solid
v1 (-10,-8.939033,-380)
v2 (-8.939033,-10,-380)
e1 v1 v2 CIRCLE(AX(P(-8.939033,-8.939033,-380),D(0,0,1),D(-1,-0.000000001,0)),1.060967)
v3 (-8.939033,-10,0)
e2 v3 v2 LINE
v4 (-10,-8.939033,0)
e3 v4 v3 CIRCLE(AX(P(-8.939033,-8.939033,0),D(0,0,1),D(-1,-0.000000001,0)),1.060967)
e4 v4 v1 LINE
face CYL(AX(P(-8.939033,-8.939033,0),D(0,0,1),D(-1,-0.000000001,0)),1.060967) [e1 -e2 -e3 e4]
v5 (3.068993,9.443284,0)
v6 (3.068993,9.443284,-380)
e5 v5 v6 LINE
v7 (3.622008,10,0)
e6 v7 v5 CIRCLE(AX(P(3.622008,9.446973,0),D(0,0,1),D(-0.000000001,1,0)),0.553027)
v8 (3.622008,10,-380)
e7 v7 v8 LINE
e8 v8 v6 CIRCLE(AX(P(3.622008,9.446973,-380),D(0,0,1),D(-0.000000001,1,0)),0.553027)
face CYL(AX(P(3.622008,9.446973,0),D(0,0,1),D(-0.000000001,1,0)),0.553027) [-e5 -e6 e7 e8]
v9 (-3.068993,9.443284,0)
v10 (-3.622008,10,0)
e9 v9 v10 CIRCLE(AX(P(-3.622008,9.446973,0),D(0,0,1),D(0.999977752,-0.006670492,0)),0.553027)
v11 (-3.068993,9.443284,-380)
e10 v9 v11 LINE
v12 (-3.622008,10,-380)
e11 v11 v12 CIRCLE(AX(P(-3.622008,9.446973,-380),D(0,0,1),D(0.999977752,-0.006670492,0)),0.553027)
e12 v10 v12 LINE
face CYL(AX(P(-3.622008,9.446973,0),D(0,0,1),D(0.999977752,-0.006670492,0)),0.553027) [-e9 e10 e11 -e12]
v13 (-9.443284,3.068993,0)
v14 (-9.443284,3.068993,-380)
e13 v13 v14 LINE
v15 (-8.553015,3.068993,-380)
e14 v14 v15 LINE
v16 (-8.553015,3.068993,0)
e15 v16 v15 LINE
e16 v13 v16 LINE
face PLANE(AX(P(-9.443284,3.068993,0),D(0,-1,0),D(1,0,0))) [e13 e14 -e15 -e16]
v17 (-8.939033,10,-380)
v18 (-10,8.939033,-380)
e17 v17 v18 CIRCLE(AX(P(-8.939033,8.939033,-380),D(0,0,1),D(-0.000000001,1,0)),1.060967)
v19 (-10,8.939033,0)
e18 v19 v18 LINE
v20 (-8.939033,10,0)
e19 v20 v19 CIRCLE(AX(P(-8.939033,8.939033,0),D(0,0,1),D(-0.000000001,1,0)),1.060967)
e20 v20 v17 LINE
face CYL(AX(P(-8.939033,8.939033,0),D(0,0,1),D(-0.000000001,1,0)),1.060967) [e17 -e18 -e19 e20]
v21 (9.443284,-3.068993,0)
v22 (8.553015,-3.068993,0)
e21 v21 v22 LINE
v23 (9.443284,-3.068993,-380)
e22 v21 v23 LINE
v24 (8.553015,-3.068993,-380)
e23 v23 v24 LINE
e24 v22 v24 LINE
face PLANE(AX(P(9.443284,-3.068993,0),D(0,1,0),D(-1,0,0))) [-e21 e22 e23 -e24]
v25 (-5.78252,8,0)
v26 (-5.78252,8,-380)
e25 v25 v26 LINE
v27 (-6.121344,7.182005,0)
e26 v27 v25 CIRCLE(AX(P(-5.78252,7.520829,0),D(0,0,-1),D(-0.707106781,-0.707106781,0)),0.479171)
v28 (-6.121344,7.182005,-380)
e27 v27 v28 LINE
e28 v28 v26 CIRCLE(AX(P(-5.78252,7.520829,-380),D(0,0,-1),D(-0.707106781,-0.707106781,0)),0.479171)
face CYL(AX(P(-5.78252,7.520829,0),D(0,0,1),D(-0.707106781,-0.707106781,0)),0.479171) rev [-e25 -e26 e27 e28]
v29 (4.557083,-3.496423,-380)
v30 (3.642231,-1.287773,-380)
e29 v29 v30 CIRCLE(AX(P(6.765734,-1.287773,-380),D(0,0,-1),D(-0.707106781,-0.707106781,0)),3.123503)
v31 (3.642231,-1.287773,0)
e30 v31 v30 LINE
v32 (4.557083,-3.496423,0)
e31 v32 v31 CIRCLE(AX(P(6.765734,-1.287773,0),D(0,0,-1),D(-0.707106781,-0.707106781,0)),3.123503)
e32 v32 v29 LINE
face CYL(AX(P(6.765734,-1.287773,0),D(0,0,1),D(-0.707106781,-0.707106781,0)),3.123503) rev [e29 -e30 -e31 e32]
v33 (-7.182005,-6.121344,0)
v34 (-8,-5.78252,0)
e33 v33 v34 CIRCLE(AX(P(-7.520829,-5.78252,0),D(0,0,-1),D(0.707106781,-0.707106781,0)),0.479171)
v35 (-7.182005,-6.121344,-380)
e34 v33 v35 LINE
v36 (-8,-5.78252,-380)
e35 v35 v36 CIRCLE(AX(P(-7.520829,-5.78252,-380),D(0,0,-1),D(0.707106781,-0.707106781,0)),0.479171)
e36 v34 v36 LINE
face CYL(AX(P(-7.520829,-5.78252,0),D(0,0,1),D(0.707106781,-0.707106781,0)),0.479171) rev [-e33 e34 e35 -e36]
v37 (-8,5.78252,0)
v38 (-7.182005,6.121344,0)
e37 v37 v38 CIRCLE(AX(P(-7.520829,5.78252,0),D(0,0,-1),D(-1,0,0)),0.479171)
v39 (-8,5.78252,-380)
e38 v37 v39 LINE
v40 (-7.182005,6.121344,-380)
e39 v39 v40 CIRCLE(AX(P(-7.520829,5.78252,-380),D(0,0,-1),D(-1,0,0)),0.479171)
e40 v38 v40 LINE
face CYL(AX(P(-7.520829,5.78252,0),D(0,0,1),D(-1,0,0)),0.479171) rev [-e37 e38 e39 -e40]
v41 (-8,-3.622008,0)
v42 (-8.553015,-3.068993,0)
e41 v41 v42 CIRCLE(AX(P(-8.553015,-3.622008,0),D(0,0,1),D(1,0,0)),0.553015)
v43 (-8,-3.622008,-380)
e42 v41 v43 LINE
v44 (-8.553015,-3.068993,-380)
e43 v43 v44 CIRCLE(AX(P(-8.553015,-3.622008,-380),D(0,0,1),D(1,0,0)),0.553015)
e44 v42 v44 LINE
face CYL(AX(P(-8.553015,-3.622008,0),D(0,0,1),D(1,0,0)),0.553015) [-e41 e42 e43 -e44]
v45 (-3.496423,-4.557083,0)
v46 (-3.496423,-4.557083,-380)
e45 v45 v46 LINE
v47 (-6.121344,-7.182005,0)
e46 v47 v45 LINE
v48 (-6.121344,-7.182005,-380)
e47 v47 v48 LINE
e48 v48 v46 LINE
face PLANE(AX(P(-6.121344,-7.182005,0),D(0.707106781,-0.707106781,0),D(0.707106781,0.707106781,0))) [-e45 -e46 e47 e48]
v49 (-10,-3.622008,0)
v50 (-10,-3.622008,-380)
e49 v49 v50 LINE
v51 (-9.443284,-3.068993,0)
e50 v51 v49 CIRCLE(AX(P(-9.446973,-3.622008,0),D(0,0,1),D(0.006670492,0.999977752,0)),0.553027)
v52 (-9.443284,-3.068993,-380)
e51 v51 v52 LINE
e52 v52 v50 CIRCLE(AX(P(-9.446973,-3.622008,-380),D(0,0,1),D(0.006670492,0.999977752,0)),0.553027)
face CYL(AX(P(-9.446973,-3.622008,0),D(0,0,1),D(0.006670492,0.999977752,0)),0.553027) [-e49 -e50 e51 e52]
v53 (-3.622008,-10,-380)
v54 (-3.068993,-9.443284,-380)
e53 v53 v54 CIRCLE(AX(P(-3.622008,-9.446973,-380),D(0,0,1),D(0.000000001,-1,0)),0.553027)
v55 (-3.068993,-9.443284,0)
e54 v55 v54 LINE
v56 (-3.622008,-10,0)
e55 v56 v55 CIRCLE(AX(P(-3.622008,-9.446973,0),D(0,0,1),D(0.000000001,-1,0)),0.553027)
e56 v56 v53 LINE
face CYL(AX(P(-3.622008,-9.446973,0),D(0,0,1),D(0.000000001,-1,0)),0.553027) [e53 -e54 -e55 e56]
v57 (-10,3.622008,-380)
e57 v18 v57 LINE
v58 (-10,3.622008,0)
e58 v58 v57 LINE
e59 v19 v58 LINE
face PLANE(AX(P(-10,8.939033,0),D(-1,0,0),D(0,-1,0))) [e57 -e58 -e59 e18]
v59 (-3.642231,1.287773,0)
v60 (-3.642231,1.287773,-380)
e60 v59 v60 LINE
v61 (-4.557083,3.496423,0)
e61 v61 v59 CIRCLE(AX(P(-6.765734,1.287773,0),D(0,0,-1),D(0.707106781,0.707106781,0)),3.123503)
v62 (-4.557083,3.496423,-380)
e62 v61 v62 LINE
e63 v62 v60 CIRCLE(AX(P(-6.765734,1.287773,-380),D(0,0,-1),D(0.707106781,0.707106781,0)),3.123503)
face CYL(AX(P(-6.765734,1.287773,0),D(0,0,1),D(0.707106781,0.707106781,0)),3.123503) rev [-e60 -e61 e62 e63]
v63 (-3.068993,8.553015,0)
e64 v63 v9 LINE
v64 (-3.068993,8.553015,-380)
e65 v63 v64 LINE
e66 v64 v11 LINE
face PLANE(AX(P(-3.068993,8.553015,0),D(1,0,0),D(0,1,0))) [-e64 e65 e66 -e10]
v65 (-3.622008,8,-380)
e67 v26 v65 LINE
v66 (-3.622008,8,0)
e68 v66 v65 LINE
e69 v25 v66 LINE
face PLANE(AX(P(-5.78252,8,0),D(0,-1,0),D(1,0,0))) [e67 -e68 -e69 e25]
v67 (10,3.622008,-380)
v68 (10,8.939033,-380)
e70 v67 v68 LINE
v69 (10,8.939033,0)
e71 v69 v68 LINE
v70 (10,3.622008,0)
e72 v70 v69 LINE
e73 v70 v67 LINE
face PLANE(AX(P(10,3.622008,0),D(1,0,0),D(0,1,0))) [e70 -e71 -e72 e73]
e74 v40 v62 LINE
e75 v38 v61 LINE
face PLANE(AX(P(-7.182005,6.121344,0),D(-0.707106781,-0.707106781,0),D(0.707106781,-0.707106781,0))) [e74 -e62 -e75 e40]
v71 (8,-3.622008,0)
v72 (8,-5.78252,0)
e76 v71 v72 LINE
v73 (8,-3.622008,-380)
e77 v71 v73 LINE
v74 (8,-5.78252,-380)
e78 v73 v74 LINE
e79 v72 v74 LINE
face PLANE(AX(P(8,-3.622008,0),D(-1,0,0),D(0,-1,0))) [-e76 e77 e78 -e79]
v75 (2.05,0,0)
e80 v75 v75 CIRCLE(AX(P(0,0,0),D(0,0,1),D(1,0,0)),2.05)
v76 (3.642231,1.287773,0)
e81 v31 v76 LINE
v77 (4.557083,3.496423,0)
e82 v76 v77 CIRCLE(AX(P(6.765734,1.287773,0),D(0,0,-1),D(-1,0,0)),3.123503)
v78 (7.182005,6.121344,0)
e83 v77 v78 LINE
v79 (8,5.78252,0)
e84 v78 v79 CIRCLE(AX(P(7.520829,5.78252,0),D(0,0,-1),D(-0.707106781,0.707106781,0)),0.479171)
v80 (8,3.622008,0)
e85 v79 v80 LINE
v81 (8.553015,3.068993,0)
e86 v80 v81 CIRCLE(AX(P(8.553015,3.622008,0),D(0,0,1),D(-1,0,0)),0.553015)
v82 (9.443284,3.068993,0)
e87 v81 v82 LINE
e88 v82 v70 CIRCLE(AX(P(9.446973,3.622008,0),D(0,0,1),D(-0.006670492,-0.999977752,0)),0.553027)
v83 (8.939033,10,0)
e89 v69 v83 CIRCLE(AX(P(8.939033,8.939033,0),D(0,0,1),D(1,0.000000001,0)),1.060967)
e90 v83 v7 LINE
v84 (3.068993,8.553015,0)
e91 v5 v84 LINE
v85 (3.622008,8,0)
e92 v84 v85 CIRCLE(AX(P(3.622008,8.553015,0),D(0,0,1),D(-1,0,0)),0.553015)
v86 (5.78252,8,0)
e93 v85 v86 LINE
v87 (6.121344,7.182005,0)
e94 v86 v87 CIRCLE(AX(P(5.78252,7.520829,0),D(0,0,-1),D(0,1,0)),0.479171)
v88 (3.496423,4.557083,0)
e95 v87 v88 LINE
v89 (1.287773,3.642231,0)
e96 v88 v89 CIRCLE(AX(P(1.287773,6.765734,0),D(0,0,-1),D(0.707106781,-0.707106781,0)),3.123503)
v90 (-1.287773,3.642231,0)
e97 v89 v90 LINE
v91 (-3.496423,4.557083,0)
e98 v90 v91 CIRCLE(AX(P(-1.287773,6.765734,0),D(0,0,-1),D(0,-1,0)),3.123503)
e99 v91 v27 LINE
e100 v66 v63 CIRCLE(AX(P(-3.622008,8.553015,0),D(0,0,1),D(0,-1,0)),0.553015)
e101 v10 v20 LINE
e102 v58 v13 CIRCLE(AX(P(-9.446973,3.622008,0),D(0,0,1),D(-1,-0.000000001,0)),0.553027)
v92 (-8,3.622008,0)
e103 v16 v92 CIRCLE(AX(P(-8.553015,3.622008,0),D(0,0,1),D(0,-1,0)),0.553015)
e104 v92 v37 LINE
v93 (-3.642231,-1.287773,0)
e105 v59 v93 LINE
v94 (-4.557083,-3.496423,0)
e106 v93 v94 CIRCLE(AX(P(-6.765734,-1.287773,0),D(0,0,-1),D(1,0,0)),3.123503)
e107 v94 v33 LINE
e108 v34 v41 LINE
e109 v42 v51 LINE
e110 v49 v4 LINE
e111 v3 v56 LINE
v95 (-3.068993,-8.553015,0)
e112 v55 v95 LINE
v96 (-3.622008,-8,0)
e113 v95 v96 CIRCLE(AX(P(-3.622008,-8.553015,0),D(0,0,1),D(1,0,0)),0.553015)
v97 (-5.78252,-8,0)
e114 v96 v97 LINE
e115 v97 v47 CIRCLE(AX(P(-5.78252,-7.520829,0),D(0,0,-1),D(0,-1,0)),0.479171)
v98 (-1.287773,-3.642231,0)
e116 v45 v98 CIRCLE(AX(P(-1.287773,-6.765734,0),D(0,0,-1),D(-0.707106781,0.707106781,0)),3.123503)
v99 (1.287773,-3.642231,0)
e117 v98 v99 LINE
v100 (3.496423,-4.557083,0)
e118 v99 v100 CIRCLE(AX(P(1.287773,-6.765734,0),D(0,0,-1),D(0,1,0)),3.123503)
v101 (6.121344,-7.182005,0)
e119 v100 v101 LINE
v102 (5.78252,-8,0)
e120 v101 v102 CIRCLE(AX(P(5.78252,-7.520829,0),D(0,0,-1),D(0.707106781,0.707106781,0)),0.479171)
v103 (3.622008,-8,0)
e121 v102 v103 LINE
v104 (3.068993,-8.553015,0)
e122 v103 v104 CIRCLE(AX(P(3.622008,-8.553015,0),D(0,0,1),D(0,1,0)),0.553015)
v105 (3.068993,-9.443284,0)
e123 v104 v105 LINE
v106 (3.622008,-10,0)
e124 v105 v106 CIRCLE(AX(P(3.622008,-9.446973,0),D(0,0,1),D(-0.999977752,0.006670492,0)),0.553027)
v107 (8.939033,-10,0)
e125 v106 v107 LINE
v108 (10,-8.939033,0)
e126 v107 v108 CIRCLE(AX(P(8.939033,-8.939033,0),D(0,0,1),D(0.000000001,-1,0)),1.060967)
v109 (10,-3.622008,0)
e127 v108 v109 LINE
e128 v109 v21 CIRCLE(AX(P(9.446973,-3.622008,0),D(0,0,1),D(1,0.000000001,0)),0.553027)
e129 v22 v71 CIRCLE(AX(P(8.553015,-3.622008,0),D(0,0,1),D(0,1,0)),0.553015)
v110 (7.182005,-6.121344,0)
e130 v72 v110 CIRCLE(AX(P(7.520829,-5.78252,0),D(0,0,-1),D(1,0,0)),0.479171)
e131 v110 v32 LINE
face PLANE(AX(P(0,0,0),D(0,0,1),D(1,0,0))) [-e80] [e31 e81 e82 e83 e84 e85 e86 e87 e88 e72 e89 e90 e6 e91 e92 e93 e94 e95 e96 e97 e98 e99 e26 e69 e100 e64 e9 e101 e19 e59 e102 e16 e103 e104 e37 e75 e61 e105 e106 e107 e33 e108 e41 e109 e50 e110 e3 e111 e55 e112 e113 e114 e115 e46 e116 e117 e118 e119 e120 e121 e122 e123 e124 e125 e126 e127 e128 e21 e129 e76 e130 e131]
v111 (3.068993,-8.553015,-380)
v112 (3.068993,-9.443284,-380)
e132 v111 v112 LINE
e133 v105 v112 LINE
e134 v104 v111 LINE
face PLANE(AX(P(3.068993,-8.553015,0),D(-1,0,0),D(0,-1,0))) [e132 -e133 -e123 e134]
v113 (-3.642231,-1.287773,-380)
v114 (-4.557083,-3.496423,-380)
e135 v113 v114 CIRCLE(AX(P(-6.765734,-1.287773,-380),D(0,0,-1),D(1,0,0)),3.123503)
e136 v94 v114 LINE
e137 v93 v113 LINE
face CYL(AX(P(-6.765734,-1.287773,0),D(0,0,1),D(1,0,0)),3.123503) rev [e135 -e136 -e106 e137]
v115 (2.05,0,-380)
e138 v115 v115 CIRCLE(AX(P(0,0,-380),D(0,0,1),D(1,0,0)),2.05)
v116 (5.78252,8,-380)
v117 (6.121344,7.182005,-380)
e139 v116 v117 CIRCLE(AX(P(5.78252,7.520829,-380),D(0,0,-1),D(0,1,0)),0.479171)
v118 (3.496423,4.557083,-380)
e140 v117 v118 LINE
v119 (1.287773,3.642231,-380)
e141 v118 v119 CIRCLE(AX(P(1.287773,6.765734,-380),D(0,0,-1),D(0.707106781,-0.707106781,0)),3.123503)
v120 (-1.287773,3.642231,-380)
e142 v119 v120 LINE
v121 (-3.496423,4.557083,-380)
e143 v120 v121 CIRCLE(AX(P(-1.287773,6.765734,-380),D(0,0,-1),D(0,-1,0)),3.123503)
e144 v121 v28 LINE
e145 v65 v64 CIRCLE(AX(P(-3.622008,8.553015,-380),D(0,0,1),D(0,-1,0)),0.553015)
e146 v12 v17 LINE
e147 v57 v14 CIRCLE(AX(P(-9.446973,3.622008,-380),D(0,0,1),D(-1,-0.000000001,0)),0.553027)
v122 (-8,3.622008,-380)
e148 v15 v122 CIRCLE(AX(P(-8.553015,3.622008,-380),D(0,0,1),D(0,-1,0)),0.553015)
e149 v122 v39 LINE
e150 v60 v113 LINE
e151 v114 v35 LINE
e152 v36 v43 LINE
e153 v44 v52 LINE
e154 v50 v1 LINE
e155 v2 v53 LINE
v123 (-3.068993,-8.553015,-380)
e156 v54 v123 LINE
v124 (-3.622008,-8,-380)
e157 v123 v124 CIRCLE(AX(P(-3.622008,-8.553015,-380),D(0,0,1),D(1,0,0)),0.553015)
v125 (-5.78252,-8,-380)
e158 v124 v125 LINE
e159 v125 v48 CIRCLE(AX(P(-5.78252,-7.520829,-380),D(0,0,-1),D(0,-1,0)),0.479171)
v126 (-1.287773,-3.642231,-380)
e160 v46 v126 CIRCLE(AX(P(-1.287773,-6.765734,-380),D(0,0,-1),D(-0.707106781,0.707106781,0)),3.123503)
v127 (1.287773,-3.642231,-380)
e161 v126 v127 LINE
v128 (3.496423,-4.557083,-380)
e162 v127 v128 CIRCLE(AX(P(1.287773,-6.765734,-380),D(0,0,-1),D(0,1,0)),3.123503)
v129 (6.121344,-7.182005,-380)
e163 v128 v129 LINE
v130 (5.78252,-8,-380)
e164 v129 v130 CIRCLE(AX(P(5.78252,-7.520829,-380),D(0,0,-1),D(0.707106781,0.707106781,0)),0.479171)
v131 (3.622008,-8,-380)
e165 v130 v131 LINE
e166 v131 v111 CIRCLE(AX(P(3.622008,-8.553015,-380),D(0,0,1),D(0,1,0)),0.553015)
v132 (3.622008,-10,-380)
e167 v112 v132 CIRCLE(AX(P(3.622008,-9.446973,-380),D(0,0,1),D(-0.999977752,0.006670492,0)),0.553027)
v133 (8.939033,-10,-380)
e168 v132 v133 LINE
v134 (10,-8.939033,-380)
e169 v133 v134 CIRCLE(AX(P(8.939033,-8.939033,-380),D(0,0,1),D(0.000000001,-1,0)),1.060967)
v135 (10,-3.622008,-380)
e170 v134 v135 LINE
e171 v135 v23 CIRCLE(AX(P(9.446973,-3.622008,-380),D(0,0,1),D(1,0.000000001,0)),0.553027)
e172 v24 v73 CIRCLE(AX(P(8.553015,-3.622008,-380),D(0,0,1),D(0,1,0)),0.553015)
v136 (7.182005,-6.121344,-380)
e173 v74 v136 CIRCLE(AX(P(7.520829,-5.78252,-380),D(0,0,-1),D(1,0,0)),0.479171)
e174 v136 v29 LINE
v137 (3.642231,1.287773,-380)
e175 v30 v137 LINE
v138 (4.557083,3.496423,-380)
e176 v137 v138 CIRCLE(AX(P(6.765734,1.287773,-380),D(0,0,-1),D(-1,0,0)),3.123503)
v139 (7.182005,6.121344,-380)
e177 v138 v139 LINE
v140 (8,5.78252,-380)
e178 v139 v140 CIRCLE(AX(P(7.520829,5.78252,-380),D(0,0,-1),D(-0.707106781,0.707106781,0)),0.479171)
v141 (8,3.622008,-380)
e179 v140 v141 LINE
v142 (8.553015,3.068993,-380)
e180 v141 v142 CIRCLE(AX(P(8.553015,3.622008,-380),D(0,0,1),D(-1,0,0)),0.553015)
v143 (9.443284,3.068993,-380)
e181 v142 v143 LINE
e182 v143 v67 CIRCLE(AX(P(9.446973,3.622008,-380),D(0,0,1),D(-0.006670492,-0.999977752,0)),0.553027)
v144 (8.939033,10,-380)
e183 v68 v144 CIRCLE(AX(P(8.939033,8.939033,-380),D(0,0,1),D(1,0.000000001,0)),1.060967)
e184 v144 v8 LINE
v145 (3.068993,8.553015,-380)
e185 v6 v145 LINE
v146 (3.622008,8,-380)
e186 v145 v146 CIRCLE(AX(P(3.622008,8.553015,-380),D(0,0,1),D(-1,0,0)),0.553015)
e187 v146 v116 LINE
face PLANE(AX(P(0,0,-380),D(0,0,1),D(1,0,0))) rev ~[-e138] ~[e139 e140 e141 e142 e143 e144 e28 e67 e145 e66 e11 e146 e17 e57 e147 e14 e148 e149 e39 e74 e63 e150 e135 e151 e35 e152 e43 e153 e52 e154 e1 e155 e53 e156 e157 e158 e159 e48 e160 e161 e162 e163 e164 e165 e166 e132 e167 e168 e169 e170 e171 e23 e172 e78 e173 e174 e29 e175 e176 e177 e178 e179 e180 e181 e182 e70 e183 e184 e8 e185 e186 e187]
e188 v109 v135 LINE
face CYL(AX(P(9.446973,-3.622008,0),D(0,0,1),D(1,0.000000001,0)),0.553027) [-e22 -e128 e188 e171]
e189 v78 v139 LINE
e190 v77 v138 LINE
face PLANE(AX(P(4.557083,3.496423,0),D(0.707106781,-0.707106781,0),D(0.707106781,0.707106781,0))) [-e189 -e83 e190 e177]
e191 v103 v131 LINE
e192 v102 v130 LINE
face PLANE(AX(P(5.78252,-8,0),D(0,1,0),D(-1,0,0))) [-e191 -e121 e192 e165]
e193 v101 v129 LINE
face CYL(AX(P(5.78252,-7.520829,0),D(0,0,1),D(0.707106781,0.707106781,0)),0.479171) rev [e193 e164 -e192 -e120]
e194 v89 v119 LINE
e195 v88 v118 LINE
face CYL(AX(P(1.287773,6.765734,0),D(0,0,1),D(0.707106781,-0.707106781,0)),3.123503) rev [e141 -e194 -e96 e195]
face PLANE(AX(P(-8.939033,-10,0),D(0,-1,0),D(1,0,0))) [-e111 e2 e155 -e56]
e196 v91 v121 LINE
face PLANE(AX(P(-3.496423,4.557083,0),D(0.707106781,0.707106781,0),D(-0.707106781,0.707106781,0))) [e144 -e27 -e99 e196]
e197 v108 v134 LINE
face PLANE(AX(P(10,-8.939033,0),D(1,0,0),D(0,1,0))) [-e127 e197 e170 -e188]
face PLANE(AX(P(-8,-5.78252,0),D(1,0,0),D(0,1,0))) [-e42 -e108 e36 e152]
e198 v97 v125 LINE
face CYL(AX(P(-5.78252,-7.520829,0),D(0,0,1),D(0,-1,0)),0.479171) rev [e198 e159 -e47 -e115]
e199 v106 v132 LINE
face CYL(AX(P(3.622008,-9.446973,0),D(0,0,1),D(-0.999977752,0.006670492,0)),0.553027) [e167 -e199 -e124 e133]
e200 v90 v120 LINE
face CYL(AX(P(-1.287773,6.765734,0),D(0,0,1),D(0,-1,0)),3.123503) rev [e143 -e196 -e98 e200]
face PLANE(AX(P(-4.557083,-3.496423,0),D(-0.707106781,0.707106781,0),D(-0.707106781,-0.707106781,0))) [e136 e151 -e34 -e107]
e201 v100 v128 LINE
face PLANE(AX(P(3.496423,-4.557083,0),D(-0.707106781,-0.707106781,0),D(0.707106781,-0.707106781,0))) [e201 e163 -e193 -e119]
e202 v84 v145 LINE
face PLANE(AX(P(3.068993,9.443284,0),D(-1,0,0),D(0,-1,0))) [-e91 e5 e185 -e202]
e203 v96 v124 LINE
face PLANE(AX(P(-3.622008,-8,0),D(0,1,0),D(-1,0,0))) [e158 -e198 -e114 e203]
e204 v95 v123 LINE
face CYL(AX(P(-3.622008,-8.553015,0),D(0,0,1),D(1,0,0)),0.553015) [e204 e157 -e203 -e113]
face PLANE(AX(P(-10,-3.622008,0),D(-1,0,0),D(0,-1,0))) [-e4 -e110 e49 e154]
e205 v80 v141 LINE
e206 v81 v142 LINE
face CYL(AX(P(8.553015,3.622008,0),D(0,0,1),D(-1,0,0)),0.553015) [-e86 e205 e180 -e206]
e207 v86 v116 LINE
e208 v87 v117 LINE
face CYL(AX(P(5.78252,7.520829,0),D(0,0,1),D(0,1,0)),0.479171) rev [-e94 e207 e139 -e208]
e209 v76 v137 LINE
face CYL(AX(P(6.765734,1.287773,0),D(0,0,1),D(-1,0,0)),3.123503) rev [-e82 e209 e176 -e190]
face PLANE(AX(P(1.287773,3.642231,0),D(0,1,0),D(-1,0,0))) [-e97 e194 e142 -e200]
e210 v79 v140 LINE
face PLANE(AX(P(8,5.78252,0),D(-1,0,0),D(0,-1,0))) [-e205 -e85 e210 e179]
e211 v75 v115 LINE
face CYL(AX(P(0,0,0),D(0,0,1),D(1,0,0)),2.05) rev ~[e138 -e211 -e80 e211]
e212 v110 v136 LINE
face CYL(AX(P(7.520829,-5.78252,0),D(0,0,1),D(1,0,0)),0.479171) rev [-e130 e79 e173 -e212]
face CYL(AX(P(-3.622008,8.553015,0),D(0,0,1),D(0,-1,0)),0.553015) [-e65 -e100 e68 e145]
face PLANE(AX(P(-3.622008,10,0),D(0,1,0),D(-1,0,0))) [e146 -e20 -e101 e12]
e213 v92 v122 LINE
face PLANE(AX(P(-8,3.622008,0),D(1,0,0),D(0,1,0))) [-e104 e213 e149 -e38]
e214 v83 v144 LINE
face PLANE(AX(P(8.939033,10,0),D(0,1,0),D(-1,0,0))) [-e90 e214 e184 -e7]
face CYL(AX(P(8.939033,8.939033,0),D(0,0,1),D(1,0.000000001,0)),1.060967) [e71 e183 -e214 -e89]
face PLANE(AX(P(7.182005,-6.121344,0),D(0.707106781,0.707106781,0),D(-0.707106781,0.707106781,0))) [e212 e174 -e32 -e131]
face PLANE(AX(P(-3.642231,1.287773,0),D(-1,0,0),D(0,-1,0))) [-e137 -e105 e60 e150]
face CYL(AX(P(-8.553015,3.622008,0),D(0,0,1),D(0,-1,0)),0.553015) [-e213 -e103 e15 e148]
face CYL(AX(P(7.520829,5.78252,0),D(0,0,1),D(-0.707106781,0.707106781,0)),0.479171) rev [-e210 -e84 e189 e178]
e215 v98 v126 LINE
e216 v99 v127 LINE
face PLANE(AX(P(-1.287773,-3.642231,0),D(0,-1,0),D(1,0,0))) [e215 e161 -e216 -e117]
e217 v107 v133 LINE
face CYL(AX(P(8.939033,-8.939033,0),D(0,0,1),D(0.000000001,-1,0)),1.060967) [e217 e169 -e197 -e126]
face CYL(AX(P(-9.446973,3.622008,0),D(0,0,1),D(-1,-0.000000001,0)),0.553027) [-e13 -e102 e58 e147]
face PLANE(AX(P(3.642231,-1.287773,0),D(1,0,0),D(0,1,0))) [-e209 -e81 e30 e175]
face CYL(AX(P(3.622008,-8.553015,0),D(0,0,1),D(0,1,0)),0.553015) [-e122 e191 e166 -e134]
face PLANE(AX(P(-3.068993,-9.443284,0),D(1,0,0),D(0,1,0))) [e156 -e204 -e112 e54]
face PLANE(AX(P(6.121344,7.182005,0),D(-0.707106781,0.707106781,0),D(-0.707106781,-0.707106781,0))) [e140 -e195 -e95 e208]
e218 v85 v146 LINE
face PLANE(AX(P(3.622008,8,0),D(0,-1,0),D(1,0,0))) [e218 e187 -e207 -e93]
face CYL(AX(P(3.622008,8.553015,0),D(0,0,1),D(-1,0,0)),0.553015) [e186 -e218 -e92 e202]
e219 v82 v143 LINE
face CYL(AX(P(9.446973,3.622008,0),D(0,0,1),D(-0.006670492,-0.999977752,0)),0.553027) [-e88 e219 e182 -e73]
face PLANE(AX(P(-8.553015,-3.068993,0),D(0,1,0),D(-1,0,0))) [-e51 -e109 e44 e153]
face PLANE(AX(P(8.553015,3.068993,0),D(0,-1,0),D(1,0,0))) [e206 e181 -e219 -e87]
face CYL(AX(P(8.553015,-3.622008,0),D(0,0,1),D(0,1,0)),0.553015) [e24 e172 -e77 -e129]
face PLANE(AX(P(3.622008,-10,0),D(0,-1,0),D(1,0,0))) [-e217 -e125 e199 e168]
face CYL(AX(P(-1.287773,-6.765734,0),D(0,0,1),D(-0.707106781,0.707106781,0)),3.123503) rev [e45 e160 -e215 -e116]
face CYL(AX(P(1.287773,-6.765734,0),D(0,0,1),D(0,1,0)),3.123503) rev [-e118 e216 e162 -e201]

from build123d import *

# Parameters (mm, degrees)
SKETCH2_R           = 2.05
BOSS_EXTRUDE1_DEPTH = 380


with BuildPart() as part:
    # Sketch2 → Boss-Extrude1 (new body)
    with BuildSketch(Plane.XY):
        with BuildLine():
            Line((-3.642230561, 1.287773026), (-3.642230561, -1.287773026))
            ThreePointArc((-3.642230561, -1.287773026), (-3.87999308, -2.483085929), (-4.55708345, -3.496423279))
            Line((-4.55708345, -3.496423279), (-7.182004606, -6.121344434))
            ThreePointArc((-7.182004606, -6.121344434), (-7.704200045, -6.225215565), (-8, -5.782519648))
            Line((-8, -5.782519648), (-8, -3.622007668))
            ThreePointArc((-8, -3.622007668), (-8.161974206, -3.230967343), (-8.553014531, -3.068993137))
            Line((-8.553014531, -3.068993137), (-9.443284204, -3.068993137))
            ThreePointArc((-9.443284204, -3.068993137), (-9.836715763, -3.229656566), (-10, -3.622007668))
            Line((-10, -3.622007668), (-10, -8.939033256))
            ThreePointArc((-10, -8.939033256), (-9.689250035, -9.689250035), (-8.939033256, -10))
            Line((-8.939033256, -10), (-3.622007668, -10))
            ThreePointArc((-3.622007668, -10), (-3.229656566, -9.836715763), (-3.068993137, -9.443284204))
            Line((-3.068993137, -9.443284204), (-3.068993137, -8.553014531))
            ThreePointArc((-3.068993137, -8.553014531), (-3.230967343, -8.161974206), (-3.622007668, -8))
            Line((-3.622007668, -8), (-5.782519648, -8))
            ThreePointArc((-5.782519648, -8), (-6.225215565, -7.704200045), (-6.121344434, -7.182004606))
            Line((-6.121344434, -7.182004606), (-3.496423279, -4.55708345))
            ThreePointArc((-3.496423279, -4.55708345), (-2.483085929, -3.87999308), (-1.287773026, -3.642230561))
            Line((-1.287773026, -3.642230561), (1.287773026, -3.642230561))
            ThreePointArc((1.287773026, -3.642230561), (2.483085929, -3.87999308), (3.496423279, -4.55708345))
            Line((3.496423279, -4.55708345), (6.121344434, -7.182004606))
            ThreePointArc((6.121344434, -7.182004606), (6.225215565, -7.704200045), (5.782519648, -8))
            Line((5.782519648, -8), (3.622007668, -8))
            ThreePointArc((3.622007668, -8), (3.230967343, -8.161974206), (3.068993137, -8.553014531))
            Line((3.068993137, -8.553014531), (3.068993137, -9.443284204))
            ThreePointArc((3.068993137, -9.443284204), (3.229656566, -9.836715763), (3.622007668, -10))
            Line((3.622007668, -10), (8.939033256, -10))
            ThreePointArc((8.939033256, -10), (9.689250035, -9.689250035), (10, -8.939033256))
            Line((10, -8.939033256), (10, -3.622007668))
            ThreePointArc((10, -3.622007668), (9.836715763, -3.229656566), (9.443284204, -3.068993137))
            Line((9.443284204, -3.068993137), (8.553014531, -3.068993137))
            ThreePointArc((8.553014531, -3.068993137), (8.161974206, -3.230967343), (8, -3.622007668))
            Line((8, -3.622007668), (8, -5.782519648))
            ThreePointArc((8, -5.782519648), (7.704200045, -6.225215565), (7.182004606, -6.121344434))
            Line((7.182004606, -6.121344434), (4.55708345, -3.496423279))
            ThreePointArc((4.55708345, -3.496423279), (3.87999308, -2.483085929), (3.642230561, -1.287773026))
            Line((3.642230561, -1.287773026), (3.642230561, 1.287773026))
            ThreePointArc((3.642230561, 1.287773026), (3.87999308, 2.483085929), (4.55708345, 3.496423279))
            Line((4.55708345, 3.496423279), (7.182004606, 6.121344434))
            ThreePointArc((7.182004606, 6.121344434), (7.704200045, 6.225215565), (8, 5.782519648))
            Line((8, 5.782519648), (8, 3.622007668))
            ThreePointArc((8, 3.622007668), (8.161974206, 3.230967343), (8.553014531, 3.068993137))
            Line((8.553014531, 3.068993137), (9.443284204, 3.068993137))
            ThreePointArc((9.443284204, 3.068993137), (9.836715763, 3.229656566), (10, 3.622007668))
            Line((10, 3.622007668), (10, 8.939033256))
            ThreePointArc((10, 8.939033256), (9.689250035, 9.689250035), (8.939033256, 10))
            Line((8.939033256, 10), (3.622007668, 10))
            ThreePointArc((3.622007668, 10), (3.229656566, 9.836715763), (3.068993137, 9.443284204))
            Line((3.068993137, 9.443284204), (3.068993137, 8.553014531))
            ThreePointArc((3.068993137, 8.553014531), (3.230967343, 8.161974206), (3.622007668, 8))
            Line((3.622007668, 8), (5.782519648, 8))
            ThreePointArc((5.782519648, 8), (6.225215565, 7.704200045), (6.121344434, 7.182004606))
            Line((6.121344434, 7.182004606), (3.496423279, 4.55708345))
            ThreePointArc((3.496423279, 4.55708345), (2.483085929, 3.87999308), (1.287773026, 3.642230561))
            Line((1.287773026, 3.642230561), (-1.287773026, 3.642230561))
            ThreePointArc((-1.287773026, 3.642230561), (-2.483085929, 3.87999308), (-3.496423279, 4.55708345))
            Line((-3.496423279, 4.55708345), (-6.121344434, 7.182004606))
            ThreePointArc((-6.121344434, 7.182004606), (-6.225215565, 7.704200045), (-5.782519648, 8))
            Line((-5.782519648, 8), (-3.622007668, 8))
            ThreePointArc((-3.622007668, 8), (-3.230967343, 8.161974206), (-3.068993137, 8.553014531))
            Line((-3.068993137, 8.553014531), (-3.068993137, 9.443284204))
            ThreePointArc((-3.068993137, 9.443284204), (-3.229656566, 9.836715763), (-3.622007668, 10))
            Line((-3.622007668, 10), (-8.939033256, 10))
            ThreePointArc((-8.939033256, 10), (-9.689250035, 9.689250035), (-10, 8.939033256))
            Line((-10, 8.939033256), (-10, 3.622007668))
            ThreePointArc((-10, 3.622007668), (-9.836715763, 3.229656566), (-9.443284204, 3.068993137))
            Line((-9.443284204, 3.068993137), (-8.553014531, 3.068993137))
            ThreePointArc((-8.553014531, 3.068993137), (-8.161974206, 3.230967343), (-8, 3.622007668))
            Line((-8, 3.622007668), (-8, 5.782519648))
            ThreePointArc((-8, 5.782519648), (-7.704200045, 6.225215565), (-7.182004606, 6.121344434))
            Line((-7.182004606, 6.121344434), (-4.55708345, 3.496423279))
            ThreePointArc((-4.55708345, 3.496423279), (-3.87999308, 2.483085929), (-3.642230561, 1.287773026))
        make_face()
        Circle(SKETCH2_R, mode=Mode.SUBTRACT)
    extrude(amount=-BOSS_EXTRUDE1_DEPTH)


solid = part.part
